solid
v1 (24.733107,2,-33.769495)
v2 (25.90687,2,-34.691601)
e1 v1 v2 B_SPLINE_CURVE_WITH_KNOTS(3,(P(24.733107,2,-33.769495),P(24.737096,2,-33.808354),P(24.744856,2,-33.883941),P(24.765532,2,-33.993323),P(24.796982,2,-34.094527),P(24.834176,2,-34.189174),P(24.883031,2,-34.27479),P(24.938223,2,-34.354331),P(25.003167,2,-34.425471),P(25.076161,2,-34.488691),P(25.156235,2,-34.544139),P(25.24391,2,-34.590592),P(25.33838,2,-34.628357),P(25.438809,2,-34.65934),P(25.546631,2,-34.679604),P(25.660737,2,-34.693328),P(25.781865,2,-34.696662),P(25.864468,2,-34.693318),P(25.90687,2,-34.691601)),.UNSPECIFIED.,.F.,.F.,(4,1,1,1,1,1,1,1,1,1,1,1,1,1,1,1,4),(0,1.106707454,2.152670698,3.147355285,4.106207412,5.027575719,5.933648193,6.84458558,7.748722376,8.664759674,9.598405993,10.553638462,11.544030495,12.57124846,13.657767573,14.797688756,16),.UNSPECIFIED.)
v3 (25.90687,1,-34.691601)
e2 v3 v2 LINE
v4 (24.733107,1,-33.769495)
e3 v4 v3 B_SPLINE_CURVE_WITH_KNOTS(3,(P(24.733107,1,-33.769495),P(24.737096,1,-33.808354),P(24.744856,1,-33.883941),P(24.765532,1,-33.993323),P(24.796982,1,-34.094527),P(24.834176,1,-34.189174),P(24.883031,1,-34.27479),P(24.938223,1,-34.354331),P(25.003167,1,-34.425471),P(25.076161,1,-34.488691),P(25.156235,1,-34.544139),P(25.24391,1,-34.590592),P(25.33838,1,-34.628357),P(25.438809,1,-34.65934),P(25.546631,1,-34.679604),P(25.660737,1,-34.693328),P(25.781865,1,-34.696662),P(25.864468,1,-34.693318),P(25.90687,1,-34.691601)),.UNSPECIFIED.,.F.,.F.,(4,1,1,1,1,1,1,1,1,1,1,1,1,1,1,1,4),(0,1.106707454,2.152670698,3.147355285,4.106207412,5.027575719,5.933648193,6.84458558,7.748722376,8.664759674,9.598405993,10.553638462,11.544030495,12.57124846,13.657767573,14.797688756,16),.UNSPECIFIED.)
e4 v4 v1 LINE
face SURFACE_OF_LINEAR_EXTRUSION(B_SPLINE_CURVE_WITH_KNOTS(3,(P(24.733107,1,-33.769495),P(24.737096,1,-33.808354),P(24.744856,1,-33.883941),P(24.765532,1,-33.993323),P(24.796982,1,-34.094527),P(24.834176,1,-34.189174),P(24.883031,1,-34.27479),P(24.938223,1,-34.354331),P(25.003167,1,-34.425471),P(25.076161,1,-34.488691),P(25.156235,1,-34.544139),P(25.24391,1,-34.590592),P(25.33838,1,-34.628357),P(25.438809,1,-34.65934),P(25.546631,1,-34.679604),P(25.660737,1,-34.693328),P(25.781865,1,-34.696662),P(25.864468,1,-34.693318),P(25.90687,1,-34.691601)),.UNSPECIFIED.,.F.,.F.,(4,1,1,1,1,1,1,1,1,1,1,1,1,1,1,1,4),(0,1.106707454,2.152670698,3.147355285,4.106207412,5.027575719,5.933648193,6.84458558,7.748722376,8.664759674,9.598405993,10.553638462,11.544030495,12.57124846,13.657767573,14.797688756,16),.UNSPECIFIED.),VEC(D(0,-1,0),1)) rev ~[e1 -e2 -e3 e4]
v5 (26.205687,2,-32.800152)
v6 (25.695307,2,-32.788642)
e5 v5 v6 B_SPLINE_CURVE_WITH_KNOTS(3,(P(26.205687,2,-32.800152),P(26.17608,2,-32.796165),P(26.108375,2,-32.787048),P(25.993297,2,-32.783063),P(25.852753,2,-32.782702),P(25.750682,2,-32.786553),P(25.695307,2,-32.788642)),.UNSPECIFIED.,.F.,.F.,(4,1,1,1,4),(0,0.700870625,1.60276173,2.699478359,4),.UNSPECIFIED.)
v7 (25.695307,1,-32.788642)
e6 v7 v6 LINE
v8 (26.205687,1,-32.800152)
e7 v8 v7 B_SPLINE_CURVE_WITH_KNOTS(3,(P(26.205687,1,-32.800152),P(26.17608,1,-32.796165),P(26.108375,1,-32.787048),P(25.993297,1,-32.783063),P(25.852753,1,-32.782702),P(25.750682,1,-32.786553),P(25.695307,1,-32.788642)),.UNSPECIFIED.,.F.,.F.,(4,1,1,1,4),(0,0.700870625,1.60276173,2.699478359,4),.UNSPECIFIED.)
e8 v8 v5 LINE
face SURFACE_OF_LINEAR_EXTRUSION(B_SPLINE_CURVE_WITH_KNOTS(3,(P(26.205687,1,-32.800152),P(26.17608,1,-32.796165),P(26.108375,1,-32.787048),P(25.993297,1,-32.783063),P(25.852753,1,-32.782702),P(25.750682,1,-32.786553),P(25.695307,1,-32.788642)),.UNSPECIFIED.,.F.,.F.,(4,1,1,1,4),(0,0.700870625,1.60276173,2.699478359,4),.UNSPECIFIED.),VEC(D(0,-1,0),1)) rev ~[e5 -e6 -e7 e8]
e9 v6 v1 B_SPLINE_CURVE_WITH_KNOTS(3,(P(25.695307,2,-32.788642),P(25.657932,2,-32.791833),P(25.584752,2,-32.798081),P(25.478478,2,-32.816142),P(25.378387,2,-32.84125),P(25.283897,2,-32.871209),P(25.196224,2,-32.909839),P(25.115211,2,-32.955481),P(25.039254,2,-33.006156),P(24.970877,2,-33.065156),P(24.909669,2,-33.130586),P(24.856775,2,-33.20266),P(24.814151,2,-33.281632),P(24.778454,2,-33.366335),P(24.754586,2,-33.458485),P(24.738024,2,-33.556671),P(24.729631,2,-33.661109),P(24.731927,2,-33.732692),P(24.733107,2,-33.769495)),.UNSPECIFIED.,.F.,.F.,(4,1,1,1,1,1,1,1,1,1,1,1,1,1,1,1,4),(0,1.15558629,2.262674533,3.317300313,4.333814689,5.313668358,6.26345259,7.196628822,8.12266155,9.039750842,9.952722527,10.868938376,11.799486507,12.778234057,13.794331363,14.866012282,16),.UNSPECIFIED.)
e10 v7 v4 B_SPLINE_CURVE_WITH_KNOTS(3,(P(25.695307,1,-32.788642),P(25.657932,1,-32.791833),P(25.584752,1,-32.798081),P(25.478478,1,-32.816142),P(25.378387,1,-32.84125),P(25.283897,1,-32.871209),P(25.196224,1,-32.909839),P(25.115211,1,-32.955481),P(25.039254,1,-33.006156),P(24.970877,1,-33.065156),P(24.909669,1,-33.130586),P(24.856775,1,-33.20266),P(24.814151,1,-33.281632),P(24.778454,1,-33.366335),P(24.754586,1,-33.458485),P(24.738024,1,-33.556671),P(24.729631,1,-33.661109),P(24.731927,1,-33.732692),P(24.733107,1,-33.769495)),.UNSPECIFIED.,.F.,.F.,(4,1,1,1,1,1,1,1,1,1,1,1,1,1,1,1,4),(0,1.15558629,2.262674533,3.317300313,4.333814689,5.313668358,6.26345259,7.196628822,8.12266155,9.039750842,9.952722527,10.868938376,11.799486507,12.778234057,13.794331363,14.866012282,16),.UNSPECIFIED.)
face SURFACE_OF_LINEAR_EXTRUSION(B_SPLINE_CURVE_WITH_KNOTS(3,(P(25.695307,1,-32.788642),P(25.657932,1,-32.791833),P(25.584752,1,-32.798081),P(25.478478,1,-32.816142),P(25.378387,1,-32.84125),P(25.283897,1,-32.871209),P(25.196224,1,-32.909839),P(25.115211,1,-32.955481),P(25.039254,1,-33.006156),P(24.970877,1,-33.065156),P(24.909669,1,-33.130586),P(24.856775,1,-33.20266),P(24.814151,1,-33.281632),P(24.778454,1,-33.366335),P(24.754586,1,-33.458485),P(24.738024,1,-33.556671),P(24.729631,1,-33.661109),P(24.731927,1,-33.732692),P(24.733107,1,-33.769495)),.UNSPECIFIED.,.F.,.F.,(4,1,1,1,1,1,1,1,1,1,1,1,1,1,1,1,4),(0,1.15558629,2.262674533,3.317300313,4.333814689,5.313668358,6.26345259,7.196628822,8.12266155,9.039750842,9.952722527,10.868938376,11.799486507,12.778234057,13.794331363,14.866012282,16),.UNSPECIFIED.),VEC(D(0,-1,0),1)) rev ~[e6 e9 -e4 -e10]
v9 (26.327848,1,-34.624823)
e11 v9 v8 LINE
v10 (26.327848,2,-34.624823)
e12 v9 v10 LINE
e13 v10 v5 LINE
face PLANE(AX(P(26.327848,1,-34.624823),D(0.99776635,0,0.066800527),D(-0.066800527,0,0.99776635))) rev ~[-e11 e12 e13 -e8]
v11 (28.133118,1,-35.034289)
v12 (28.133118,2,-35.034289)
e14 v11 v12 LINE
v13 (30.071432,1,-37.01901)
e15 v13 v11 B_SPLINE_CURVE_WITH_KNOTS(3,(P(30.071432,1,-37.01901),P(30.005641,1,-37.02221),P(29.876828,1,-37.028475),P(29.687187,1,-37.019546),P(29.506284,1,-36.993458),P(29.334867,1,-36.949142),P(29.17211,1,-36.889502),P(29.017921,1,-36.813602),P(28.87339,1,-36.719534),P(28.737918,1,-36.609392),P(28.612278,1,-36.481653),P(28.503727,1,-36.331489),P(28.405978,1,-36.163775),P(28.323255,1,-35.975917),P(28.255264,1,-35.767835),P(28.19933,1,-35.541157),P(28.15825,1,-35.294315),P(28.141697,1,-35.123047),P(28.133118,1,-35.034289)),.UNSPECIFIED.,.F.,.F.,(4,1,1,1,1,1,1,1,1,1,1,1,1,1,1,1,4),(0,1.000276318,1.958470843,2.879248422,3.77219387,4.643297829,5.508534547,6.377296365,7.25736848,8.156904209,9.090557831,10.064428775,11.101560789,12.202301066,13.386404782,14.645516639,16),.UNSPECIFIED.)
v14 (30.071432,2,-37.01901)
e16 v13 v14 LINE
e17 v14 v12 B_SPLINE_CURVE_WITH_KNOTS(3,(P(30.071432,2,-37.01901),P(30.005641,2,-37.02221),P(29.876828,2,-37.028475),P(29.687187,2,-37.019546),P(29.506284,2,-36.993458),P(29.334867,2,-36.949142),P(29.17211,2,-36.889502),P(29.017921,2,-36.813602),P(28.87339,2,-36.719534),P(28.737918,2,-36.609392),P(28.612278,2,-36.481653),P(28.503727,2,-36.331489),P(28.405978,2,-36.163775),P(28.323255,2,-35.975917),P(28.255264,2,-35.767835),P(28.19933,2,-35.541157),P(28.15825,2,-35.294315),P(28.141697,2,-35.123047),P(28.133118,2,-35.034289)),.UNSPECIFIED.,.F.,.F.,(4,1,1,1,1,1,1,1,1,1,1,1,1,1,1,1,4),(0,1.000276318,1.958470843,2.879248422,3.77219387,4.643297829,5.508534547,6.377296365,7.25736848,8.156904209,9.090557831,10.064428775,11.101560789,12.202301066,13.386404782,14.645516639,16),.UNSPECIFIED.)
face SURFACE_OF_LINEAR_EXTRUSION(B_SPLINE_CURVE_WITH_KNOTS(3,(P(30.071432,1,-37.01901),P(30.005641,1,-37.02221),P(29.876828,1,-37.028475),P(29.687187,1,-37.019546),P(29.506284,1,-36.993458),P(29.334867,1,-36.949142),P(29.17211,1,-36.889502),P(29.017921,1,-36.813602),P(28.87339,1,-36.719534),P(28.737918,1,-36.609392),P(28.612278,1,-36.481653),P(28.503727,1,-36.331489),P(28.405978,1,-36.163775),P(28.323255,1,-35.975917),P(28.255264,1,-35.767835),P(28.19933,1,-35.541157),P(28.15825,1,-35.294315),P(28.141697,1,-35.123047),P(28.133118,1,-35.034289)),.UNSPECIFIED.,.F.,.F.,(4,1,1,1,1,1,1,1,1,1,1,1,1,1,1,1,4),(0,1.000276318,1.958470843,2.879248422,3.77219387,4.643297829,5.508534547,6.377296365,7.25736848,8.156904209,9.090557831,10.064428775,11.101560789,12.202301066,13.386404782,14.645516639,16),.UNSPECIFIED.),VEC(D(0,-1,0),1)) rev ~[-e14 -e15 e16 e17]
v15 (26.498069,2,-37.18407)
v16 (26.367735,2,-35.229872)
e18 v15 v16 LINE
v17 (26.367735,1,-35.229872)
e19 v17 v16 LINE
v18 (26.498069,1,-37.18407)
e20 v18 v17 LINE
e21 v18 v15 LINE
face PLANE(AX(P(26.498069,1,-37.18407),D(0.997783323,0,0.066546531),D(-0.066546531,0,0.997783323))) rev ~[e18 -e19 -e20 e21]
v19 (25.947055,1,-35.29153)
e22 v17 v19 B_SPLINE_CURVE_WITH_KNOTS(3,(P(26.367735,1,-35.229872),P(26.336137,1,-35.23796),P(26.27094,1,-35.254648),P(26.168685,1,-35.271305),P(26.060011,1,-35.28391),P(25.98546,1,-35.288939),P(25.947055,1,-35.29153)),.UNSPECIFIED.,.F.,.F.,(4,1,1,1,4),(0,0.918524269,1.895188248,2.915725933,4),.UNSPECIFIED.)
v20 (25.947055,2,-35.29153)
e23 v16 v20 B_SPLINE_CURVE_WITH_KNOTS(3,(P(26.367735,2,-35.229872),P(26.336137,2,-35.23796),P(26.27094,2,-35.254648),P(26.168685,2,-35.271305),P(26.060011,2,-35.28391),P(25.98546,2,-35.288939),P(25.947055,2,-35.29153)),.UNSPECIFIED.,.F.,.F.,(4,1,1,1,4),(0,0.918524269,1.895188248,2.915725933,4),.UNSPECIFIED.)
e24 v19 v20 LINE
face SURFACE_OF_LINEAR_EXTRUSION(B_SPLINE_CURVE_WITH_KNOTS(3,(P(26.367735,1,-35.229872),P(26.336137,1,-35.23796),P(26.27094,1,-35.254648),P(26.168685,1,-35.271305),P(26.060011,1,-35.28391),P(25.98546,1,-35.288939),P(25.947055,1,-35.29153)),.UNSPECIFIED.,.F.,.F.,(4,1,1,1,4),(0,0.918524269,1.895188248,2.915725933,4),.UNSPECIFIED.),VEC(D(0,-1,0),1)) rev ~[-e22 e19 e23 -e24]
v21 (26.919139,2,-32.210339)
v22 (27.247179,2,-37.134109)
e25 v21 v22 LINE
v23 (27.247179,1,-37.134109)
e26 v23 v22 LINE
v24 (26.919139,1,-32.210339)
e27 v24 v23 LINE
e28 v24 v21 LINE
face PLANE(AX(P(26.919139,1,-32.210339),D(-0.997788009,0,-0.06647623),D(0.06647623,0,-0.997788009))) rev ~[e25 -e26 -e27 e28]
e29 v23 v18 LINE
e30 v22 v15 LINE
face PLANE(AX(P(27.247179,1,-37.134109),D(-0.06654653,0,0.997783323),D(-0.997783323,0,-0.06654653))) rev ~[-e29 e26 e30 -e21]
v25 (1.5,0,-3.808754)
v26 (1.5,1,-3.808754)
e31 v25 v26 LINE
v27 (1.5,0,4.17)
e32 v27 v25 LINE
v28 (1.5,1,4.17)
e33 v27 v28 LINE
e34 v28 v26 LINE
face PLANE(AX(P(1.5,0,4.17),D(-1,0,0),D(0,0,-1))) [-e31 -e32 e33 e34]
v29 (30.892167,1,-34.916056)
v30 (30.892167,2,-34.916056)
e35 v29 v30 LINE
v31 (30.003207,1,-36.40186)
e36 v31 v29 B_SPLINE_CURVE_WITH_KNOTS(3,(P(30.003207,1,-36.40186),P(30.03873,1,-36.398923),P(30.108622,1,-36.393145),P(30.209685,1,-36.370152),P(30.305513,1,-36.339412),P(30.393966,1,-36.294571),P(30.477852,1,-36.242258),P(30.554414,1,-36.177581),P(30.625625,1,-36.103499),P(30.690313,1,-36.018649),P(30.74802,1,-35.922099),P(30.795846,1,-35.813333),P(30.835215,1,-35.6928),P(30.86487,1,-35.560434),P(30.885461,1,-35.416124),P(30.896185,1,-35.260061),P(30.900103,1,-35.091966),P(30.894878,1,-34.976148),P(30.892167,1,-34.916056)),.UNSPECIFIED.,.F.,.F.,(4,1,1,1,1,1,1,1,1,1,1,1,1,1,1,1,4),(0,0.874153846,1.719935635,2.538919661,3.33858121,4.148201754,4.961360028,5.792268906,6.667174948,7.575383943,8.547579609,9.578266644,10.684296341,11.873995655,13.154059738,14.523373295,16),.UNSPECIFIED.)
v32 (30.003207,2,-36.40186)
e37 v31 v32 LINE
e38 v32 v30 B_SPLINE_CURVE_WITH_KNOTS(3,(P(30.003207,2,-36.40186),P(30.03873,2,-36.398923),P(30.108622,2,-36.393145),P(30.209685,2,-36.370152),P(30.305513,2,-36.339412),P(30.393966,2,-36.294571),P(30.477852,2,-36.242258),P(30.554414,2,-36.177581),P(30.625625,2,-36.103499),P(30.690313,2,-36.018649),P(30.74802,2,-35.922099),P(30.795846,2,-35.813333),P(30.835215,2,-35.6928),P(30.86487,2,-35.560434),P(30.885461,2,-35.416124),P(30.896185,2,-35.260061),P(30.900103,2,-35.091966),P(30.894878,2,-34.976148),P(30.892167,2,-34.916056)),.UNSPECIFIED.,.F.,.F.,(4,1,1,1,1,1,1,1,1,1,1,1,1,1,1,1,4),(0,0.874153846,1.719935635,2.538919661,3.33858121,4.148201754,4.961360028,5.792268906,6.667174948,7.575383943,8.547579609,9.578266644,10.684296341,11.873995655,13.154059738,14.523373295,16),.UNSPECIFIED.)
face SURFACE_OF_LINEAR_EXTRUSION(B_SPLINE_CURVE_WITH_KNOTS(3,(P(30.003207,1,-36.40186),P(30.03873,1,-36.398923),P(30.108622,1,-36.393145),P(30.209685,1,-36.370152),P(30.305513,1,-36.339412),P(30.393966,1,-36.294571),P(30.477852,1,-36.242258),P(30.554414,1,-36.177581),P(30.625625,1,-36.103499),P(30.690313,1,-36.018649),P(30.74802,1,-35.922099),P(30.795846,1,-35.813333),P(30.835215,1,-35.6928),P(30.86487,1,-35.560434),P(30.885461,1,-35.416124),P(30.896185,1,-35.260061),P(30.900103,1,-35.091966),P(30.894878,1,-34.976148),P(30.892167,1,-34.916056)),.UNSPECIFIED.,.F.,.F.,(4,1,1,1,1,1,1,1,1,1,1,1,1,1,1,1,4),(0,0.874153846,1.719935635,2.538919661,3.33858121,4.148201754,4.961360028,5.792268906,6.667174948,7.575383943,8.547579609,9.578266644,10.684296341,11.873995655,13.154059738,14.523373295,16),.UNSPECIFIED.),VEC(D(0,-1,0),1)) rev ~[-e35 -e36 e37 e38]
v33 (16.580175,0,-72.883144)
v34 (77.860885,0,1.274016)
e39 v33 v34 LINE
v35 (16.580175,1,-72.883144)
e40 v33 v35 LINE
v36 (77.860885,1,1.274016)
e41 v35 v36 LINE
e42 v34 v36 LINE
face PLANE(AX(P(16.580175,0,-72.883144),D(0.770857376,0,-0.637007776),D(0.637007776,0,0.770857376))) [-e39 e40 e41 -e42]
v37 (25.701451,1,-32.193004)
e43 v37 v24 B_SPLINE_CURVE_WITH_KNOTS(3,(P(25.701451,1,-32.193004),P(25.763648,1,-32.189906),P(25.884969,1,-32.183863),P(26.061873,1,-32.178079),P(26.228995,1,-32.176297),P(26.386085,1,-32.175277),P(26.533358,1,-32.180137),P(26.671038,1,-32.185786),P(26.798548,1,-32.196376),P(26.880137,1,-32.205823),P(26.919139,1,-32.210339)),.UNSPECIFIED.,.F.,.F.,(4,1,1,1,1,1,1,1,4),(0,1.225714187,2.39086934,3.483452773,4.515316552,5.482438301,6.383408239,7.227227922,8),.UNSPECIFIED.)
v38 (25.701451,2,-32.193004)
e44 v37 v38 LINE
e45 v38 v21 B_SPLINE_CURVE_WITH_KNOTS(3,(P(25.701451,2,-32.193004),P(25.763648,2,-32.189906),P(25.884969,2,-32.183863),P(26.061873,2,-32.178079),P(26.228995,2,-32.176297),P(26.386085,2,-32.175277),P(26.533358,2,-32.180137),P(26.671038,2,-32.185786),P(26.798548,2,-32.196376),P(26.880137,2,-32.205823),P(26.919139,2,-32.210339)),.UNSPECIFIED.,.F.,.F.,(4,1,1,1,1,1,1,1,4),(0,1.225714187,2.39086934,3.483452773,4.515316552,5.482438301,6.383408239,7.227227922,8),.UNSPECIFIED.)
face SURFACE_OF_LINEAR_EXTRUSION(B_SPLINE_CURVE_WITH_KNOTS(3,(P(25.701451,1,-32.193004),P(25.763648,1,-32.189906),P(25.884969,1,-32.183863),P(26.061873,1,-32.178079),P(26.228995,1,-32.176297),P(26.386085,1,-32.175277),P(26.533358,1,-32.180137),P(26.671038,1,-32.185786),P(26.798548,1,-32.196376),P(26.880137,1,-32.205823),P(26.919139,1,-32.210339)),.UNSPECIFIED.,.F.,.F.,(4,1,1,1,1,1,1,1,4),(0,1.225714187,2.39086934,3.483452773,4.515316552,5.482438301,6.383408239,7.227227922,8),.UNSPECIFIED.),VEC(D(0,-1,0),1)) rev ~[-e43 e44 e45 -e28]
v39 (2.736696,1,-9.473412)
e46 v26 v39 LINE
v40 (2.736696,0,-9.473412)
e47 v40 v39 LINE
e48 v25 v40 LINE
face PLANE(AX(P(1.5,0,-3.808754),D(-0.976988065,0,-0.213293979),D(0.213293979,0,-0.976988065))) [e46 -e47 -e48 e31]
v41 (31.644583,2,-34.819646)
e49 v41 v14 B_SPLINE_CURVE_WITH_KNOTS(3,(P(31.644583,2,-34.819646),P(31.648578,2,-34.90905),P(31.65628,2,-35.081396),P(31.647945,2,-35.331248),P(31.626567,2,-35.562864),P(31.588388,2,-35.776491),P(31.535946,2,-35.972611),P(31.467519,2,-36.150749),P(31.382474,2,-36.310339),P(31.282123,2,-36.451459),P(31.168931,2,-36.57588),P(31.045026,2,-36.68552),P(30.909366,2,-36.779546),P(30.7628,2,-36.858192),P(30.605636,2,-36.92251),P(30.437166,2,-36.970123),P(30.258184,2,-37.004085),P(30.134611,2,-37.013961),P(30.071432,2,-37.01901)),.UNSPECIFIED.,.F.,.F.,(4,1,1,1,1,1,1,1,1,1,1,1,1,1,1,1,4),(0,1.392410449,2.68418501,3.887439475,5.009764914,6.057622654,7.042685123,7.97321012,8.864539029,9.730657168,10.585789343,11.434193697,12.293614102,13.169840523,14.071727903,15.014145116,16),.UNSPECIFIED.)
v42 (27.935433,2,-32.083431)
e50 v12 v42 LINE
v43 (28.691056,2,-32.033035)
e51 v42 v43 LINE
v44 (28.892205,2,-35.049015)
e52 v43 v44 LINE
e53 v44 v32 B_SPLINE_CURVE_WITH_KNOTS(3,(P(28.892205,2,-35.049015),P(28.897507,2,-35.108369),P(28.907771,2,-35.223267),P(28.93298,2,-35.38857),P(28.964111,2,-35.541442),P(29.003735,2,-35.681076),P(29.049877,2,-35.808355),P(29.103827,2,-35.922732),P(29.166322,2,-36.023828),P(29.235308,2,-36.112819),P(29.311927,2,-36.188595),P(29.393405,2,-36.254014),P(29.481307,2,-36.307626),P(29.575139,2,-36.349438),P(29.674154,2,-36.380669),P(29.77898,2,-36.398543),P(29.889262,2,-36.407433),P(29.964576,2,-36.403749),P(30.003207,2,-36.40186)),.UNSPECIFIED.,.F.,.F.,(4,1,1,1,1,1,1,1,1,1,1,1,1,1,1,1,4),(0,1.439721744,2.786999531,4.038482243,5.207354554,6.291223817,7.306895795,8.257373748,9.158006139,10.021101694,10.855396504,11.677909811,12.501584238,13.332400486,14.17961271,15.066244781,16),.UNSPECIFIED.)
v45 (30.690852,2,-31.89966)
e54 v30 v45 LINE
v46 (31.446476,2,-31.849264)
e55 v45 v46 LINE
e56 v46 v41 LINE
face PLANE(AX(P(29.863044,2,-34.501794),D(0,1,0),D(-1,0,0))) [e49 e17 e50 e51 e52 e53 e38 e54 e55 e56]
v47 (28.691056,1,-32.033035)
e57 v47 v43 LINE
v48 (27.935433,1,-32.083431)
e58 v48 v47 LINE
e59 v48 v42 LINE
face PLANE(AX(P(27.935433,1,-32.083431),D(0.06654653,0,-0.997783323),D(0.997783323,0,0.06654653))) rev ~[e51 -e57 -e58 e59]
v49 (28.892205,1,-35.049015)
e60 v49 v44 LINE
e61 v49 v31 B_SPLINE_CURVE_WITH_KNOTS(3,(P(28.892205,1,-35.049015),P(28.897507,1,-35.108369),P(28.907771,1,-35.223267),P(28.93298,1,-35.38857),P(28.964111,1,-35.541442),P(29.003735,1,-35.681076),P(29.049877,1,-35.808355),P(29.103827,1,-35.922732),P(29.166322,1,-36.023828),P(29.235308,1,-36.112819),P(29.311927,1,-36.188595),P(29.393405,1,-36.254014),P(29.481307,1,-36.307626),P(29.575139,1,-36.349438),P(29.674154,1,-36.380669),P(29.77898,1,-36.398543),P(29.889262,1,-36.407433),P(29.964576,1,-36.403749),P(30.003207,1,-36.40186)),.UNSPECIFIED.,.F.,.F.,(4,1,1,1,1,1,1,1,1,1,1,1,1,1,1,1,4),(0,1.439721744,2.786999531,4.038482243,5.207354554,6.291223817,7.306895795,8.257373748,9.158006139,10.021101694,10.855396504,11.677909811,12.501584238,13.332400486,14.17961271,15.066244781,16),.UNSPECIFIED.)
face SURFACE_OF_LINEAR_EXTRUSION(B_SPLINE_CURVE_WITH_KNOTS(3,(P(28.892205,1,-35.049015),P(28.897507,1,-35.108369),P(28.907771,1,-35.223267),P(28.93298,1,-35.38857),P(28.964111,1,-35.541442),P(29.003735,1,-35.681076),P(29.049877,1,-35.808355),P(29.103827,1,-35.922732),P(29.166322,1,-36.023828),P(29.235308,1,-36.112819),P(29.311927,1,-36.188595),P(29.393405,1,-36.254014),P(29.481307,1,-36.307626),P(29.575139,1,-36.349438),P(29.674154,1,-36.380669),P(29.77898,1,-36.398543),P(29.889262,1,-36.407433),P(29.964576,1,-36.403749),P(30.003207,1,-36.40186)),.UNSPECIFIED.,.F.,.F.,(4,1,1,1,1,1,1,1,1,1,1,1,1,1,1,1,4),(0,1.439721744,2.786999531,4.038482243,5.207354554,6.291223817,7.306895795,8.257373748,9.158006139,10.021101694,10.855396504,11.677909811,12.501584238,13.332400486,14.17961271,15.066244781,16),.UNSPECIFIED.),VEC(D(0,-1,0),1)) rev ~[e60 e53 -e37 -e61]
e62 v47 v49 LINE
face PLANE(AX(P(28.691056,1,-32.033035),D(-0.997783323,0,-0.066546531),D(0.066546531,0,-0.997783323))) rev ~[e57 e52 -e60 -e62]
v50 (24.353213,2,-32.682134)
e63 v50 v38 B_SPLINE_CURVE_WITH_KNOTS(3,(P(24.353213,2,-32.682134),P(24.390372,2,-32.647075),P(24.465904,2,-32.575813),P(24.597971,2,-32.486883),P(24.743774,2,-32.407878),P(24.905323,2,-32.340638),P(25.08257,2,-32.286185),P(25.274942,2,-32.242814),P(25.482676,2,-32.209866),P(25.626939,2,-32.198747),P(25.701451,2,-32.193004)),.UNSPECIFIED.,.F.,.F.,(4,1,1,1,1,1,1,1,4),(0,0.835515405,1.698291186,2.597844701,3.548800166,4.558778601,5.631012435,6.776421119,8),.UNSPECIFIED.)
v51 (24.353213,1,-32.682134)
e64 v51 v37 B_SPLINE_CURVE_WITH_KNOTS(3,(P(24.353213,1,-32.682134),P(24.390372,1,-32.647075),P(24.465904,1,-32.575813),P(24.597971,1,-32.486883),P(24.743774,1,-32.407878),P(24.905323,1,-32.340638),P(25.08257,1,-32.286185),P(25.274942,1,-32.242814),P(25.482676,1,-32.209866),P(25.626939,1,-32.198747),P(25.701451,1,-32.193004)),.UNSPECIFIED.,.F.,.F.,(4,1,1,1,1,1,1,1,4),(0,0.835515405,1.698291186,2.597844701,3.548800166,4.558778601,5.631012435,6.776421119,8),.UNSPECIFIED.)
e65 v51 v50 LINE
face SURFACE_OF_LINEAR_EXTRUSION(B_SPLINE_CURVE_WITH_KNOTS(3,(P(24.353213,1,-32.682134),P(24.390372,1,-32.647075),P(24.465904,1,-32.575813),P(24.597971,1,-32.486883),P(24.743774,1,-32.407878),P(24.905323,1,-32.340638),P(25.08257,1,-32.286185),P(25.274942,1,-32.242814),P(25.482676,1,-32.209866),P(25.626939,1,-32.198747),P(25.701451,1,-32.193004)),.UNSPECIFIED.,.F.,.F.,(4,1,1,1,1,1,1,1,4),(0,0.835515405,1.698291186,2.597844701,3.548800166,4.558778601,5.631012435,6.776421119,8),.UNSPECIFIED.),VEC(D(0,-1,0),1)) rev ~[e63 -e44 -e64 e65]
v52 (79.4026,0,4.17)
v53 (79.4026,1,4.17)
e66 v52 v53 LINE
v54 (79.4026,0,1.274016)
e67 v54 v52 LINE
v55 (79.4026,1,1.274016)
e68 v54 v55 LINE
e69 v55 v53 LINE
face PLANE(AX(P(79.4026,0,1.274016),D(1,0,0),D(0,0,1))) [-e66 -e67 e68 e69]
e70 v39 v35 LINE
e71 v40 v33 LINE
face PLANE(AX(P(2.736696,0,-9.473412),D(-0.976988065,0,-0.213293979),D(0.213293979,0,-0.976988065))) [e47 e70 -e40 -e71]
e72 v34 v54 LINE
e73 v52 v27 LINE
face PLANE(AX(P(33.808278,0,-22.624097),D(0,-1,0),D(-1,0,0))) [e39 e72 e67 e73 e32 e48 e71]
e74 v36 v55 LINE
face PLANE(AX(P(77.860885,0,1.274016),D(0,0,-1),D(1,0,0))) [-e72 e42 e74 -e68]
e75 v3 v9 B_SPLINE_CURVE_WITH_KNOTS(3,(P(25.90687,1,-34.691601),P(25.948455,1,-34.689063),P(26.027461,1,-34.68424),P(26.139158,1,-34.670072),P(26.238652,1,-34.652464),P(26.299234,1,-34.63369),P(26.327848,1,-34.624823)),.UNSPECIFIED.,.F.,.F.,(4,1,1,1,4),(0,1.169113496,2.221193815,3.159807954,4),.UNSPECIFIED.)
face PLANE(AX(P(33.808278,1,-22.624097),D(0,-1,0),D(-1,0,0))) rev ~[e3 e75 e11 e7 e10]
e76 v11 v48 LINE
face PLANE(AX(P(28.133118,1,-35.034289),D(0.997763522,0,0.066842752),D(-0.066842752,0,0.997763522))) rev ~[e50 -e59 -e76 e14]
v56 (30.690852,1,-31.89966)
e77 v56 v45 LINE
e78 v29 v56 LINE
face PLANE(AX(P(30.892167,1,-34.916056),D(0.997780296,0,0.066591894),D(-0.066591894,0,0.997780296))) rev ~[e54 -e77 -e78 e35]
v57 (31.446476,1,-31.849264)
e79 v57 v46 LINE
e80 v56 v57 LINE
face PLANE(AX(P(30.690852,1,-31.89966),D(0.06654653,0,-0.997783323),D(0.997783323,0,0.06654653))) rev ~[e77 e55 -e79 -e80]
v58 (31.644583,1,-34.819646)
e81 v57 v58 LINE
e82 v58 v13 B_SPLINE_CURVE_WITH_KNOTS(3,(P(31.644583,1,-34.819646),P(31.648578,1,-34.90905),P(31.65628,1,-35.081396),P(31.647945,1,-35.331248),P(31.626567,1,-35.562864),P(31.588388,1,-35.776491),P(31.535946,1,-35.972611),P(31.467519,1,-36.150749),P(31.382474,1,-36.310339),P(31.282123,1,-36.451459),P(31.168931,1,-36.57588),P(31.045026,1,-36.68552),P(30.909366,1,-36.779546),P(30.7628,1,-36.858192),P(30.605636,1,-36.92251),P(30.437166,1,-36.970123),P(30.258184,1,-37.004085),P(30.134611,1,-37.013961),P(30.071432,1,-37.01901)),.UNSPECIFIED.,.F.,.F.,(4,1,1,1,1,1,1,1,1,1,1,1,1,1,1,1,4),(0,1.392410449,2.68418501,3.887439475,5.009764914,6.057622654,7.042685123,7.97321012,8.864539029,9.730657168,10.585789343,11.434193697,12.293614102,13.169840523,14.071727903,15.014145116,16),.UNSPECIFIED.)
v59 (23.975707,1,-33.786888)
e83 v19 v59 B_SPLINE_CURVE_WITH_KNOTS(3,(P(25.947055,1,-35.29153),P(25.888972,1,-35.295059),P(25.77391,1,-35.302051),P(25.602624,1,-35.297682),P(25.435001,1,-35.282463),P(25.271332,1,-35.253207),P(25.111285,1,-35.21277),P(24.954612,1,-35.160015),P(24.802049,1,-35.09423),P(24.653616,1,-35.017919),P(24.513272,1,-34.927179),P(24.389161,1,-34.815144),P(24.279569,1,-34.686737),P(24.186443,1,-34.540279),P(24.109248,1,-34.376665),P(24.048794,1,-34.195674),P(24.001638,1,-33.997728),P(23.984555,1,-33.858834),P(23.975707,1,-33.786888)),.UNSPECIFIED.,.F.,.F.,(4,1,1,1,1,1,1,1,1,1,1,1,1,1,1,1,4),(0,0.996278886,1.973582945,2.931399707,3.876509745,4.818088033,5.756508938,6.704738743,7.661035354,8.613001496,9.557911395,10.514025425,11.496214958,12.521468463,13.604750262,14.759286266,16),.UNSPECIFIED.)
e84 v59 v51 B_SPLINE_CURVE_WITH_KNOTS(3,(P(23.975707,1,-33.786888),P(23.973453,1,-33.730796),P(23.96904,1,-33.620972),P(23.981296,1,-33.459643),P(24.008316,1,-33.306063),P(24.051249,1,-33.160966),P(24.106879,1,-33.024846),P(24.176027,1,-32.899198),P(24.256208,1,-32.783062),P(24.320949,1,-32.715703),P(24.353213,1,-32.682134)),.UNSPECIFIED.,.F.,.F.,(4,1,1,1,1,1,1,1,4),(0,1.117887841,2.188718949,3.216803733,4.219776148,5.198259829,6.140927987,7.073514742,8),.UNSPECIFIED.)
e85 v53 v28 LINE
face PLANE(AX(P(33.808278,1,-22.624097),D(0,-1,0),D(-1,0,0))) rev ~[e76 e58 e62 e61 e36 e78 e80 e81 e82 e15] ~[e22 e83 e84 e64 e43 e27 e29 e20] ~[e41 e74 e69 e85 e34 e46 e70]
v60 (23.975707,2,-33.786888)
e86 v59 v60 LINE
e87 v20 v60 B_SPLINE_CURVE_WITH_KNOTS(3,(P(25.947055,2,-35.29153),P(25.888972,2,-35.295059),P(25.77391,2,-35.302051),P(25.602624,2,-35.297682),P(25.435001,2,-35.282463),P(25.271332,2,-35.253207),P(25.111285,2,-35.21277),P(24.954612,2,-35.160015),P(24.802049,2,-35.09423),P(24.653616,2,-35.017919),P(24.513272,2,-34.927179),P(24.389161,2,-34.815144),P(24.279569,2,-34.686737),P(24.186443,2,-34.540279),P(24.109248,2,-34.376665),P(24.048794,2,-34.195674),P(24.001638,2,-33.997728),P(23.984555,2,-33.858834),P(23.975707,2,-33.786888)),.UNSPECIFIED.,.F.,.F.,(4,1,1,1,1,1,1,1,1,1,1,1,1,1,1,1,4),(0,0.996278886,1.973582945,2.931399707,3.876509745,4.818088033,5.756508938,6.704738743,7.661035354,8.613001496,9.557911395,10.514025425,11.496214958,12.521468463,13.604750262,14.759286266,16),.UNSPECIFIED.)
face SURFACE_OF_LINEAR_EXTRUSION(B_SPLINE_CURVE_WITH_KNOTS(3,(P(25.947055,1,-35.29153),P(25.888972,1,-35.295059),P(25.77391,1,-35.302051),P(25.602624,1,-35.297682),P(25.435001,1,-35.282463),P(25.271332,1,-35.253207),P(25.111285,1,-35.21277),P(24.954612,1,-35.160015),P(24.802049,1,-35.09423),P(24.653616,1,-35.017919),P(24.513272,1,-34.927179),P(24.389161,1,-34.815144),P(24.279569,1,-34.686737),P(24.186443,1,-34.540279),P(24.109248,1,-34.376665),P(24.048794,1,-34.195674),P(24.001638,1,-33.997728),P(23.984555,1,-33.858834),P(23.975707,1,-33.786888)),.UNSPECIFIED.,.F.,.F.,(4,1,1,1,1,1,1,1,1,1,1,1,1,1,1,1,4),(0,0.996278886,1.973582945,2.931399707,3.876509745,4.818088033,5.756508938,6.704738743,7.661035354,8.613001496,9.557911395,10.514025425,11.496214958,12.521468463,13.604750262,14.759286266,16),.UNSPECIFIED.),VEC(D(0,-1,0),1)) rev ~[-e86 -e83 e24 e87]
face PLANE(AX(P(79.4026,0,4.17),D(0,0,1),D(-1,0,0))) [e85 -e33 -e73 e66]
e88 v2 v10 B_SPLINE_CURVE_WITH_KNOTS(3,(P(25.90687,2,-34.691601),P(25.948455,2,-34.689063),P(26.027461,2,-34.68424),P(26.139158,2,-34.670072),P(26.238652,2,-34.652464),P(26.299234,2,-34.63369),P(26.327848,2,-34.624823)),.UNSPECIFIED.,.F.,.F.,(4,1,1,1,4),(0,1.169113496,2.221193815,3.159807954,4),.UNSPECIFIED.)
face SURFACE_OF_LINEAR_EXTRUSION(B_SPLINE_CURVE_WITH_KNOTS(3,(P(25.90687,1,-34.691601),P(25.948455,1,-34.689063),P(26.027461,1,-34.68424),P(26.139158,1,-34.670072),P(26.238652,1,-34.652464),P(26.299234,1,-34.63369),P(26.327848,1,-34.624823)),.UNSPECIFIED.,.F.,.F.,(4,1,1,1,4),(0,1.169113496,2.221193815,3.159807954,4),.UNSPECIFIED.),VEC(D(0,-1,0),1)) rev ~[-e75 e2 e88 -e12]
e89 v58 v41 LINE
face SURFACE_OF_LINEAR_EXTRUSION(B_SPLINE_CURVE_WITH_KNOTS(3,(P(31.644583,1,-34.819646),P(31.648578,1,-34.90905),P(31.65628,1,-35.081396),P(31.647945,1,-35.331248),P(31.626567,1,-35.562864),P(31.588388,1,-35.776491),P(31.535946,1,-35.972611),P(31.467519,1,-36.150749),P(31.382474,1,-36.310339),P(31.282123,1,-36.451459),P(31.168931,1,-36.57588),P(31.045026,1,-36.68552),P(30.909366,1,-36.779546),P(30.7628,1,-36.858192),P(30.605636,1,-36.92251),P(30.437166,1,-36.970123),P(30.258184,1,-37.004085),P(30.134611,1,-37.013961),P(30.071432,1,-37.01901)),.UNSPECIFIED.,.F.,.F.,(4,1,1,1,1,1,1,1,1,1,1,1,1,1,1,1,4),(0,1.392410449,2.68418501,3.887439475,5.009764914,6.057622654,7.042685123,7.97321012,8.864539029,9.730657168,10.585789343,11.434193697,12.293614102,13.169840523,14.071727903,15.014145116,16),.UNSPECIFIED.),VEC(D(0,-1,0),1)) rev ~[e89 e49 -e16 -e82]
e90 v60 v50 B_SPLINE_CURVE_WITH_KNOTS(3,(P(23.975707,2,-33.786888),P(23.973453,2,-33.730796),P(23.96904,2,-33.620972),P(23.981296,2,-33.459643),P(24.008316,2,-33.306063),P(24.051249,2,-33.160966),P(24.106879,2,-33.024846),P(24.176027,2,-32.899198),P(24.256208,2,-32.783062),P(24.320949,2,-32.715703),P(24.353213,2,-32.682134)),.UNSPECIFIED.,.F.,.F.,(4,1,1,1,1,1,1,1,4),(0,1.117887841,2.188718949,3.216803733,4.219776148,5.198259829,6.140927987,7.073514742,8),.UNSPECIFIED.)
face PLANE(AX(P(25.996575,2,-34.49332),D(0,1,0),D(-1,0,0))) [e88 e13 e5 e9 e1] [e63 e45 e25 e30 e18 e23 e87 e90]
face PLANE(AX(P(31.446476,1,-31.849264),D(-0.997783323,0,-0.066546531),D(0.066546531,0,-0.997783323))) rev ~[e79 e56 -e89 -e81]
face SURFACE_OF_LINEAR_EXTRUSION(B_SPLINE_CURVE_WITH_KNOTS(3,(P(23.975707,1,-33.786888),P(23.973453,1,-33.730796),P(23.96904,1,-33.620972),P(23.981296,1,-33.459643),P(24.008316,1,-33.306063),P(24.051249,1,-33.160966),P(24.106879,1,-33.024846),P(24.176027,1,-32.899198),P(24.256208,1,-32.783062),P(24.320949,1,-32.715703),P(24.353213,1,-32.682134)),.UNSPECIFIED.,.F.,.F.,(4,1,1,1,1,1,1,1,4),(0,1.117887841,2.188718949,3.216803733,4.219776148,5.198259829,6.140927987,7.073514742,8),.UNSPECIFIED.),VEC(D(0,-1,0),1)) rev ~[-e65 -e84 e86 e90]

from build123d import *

# Parameters (mm, degrees)
EXTRUDE_1_DEPTH = 1
EXTRUDE_2_DEPTH = 1


with BuildPart() as part:
    # 草图1 → 凸台-拉伸1 (new body)
    with BuildSketch(Plane(origin=(0, 0, 0), x_dir=(1, 0, 0), z_dir=(0, 1, 0))):
        Polygon((2.736696129, 9.473412041), (16.58017542, 72.883143872), (77.860885248, -1.274015551), (79.4026, -1.274015551), (79.4026, -4.17), (1.5, -4.17), (1.5, 3.808754461), align=None)
    extrude(amount=EXTRUDE_1_DEPTH)

    # 草图2 → 凸台-拉伸2 (add)
    # profile 1 of 2: a face of its own
    with BuildSketch(Plane.XZ.offset(-1)):
        with BuildLine():
            Line((27.247178656, -37.134108742), (26.498069264, -37.184070121))
            Line((26.498069264, -37.184070121), (26.367735231, -35.229871707))
            add(Edge.make_bspline(
                [(26.367735231, -35.229871707), (26.336136972, -35.237959723), (26.270940383, -35.254647701), (26.168685096, -35.271305323), (26.06001111, -35.283910157), (25.985459776, -35.288939032), (25.947055355, -35.291529611)],
                knots=[0, 0, 0, 0, 0.918524269, 1.895188248, 2.915725933, 4, 4, 4, 4], degree=3))
            add(Edge.make_bspline(
                [(25.947055355, -35.291529611), (25.888971534, -35.295059263), (25.773910138, -35.302051343), (25.602623819, -35.297682043), (25.435001026, -35.282463383), (25.271332319, -35.25320731), (25.111285307, -35.21277006), (24.954612218, -35.160015392), (24.802048503, -35.094230317), (24.653616239, -35.017919209), (24.513272279, -34.927178562), (24.389160738, -34.815143767), (24.279568532, -34.686737032), (24.186443183, -34.540279182), (24.109248199, -34.376664865), (24.048793797, -34.195673673), (24.00163799, -33.997727925), (23.98455536, -33.858833633), (23.975706741, -33.786887875)],
                knots=[0, 0, 0, 0, 0.996278886, 1.973582945, 2.931399707, 3.876509745, 4.818088033, 5.756508938, 6.704738743, 7.661035354, 8.613001496, 9.557911395, 10.514025425, 11.496214958, 12.521468463, 13.604750262, 14.759286266, 16, 16, 16, 16], degree=3))
            add(Edge.make_bspline(
                [(23.975706741, -33.786887875), (23.973452918, -33.730795501), (23.969040147, -33.620971923), (23.981295878, -33.459643046), (24.008316205, -33.30606268), (24.051249008, -33.160965902), (24.106879389, -33.024846473), (24.176026658, -32.899197677), (24.256208333, -32.783062463), (24.320948784, -32.715703234), (24.35321277, -32.682134156)],
                knots=[0, 0, 0, 0, 1.117887841, 2.188718949, 3.216803733, 4.219776148, 5.198259829, 6.140927987, 7.073514742, 8, 8, 8, 8], degree=3))
            add(Edge.make_bspline(
                [(24.35321277, -32.682134156), (24.390372306, -32.647075002), (24.465903781, -32.575812818), (24.597971222, -32.486883084), (24.743773905, -32.407877723), (24.905322916, -32.340638498), (25.082570482, -32.286184948), (25.274941514, -32.242813813), (25.482676378, -32.20986596), (25.626939116, -32.198747031), (25.701450626, -32.193004119)],
                knots=[0, 0, 0, 0, 0.835515405, 1.698291186, 2.597844701, 3.548800166, 4.558778601, 5.631012435, 6.776421119, 8, 8, 8, 8], degree=3))
            add(Edge.make_bspline(
                [(25.701450626, -32.193004119), (25.763647746, -32.18990621), (25.884969005, -32.183863452), (26.061872954, -32.178079125), (26.228994693, -32.176297304), (26.386085383, -32.175276922), (26.533358419, -32.180136733), (26.671037915, -32.185786151), (26.798547568, -32.19637649), (26.880137368, -32.205823077), (26.919139372, -32.210338786)],
                knots=[0, 0, 0, 0, 1.225714187, 2.39086934, 3.483452773, 4.515316552, 5.482438301, 6.383408239, 7.227227922, 8, 8, 8, 8], degree=3))
            Line((26.919139372, -32.210338786), (27.247178656, -37.134108742))
        make_face()
        with BuildLine():
            add(Edge.make_bspline(
                [(26.205686584, -32.800151678), (26.176079833, -32.796164938), (26.108374661, -32.787048001), (25.99329716, -32.783062649), (25.852753393, -32.782701532), (25.750681695, -32.786552967), (25.695306953, -32.788642403)],
                knots=[0, 0, 0, 0, 0.700870625, 1.60276173, 2.699478359, 4, 4, 4, 4], degree=3))
            add(Edge.make_bspline(
                [(25.695306953, -32.788642403), (25.657932433, -32.791833077), (25.58475194, -32.798080519), (25.478477782, -32.816141959), (25.378387391, -32.84124998), (25.283896528, -32.871209194), (25.196224059, -32.909838569), (25.115210741, -32.955481345), (25.03925353, -33.006155967), (24.970876759, -33.065156289), (24.909669441, -33.130586372), (24.856775337, -33.202660022), (24.814150815, -33.281632292), (24.778453834, -33.366335047), (24.754586229, -33.458484944), (24.738023638, -33.556671393), (24.729630946, -33.661109096), (24.731926616, -33.732692134), (24.733106875, -33.769494709)],
                knots=[0, 0, 0, 0, 1.15558629, 2.262674533, 3.317300313, 4.333814689, 5.313668358, 6.26345259, 7.196628822, 8.12266155, 9.039750842, 9.952722527, 10.868938376, 11.799486507, 12.778234057, 13.794331363, 14.866012282, 16, 16, 16, 16], degree=3))
            add(Edge.make_bspline(
                [(24.733106875, -33.769494709), (24.737096219, -33.808354477), (24.744855943, -33.883941104), (24.765532333, -33.993323197), (24.796982251, -34.094527148), (24.834175778, -34.189173984), (24.883030807, -34.274790461), (24.938222836, -34.354330579), (25.003166703, -34.425471317), (25.076160949, -34.48869148), (25.15623493, -34.544138738), (25.243910401, -34.590592199), (25.33838039, -34.628357489), (25.438808525, -34.659340274), (25.546631026, -34.679604309), (25.6607371, -34.69332827), (25.781865267, -34.696662397), (25.864468434, -34.693317664), (25.906870167, -34.69160075)],
                knots=[0, 0, 0, 0, 1.106707454, 2.152670698, 3.147355285, 4.106207412, 5.027575719, 5.933648193, 6.84458558, 7.748722376, 8.664759674, 9.598405993, 10.553638462, 11.544030495, 12.57124846, 13.657767573, 14.797688756, 16, 16, 16, 16], degree=3))
            add(Edge.make_bspline(
                [(25.906870167, -34.69160075), (25.948454683, -34.689062607), (26.027460929, -34.684240401), (26.139157586, -34.670071787), (26.238651685, -34.652463648), (26.299233543, -34.633690353), (26.327848462, -34.624823072)],
                knots=[0, 0, 0, 0, 1.169113496, 2.221193815, 3.159807954, 4, 4, 4, 4], degree=3))
            Line((26.327848462, -34.624823072), (26.205686584, -32.800151678))
        make_face(mode=Mode.SUBTRACT)
    # profile 2 of 2: a face of its own
    with BuildSketch(Plane.XZ.offset(-1)):
        with BuildLine():
            Line((27.935432574, -32.083430945), (28.691055961, -32.033035119))
            Line((28.691055961, -32.033035119), (28.892204819, -35.049014672))
            add(Edge.make_bspline(
                [(28.892204819, -35.049014672), (28.897507047, -35.108369157), (28.90777105, -35.223266999), (28.932979911, -35.388569892), (28.964110993, -35.541441954), (29.003735435, -35.681075959), (29.049877232, -35.80835476), (29.1038274, -35.922731741), (29.166322232, -36.023827925), (29.235308242, -36.112819124), (29.311927252, -36.188595136), (29.393405004, -36.254014097), (29.481306787, -36.307626326), (29.575139181, -36.34943819), (29.674153705, -36.380669278), (29.77898, -36.398543183), (29.88926244, -36.40743298), (29.964575532, -36.403749393), (30.003206868, -36.401859922)],
                knots=[0, 0, 0, 0, 1.439721744, 2.786999531, 4.038482243, 5.207354554, 6.291223817, 7.306895795, 8.257373748, 9.158006139, 10.021101694, 10.855396504, 11.677909811, 12.501584238, 13.332400486, 14.17961271, 15.066244781, 16, 16, 16, 16], degree=3))
            add(Edge.make_bspline(
                [(30.003206868, -36.401859922), (30.038729559, -36.398923305), (30.108621995, -36.393145384), (30.209684602, -36.370152125), (30.305513155, -36.33941236), (30.39396647, -36.294571366), (30.477851847, -36.242257996), (30.554413819, -36.177580795), (30.625625293, -36.103498895), (30.690312721, -36.018648553), (30.748019791, -35.922099382), (30.795846408, -35.813332953), (30.835215343, -35.692799841), (30.864869703, -35.56043382), (30.885460677, -35.416124074), (30.896184878, -35.260061022), (30.900103493, -35.091966457), (30.894877985, -34.976148439), (30.89216671, -34.916055829)],
                knots=[0, 0, 0, 0, 0.874153846, 1.719935635, 2.538919661, 3.33858121, 4.148201754, 4.961360028, 5.792268906, 6.667174948, 7.575383943, 8.547579609, 9.578266644, 10.684296341, 11.873995655, 13.154059738, 14.523373295, 16, 16, 16, 16], degree=3))
            Line((30.89216671, -34.916055829), (30.690852339, -31.899659959))
            Line((30.690852339, -31.899659959), (31.446475726, -31.849264133))
            Line((31.446475726, -31.849264133), (31.644583456, -34.819645723))
            add(Edge.make_bspline(
                [(31.644583456, -34.819645723), (31.648578386, -34.909049834), (31.656279514, -35.081396411), (31.647945267, -35.331247935), (31.626567199, -35.562863946), (31.588387672, -35.776491181), (31.535946157, -35.972611101), (31.467518593, -36.150749447), (31.382473647, -36.310338583), (31.282123362, -36.451459106), (31.168931277, -36.575879794), (31.045026327, -36.685519975), (30.909366494, -36.779545606), (30.762799952, -36.858191677), (30.605635955, -36.922509938), (30.437166438, -36.970123465), (30.258184476, -37.004084934), (30.134610832, -37.01396111), (30.071432155, -37.019010437)],
                knots=[0, 0, 0, 0, 1.392410449, 2.68418501, 3.887439475, 5.009764914, 6.057622654, 7.042685123, 7.97321012, 8.864539029, 9.730657168, 10.585789343, 11.434193697, 12.293614102, 13.169840523, 14.071727903, 15.014145116, 16, 16, 16, 16], degree=3))
            add(Edge.make_bspline(
                [(30.071432155, -37.019010437), (30.005641486, -37.022210067), (29.876827974, -37.028474717), (29.687187359, -37.019546443), (29.506284369, -36.993457544), (29.334867231, -36.949141616), (29.172110457, -36.889501605), (29.017921074, -36.813602283), (28.873390267, -36.719534025), (28.737918252, -36.609392285), (28.612277586, -36.481652914), (28.503727367, -36.331489281), (28.405978482, -36.163774568), (28.323255189, -35.975917378), (28.255263986, -35.767835389), (28.199330237, -35.541157099), (28.158249949, -35.294314561), (28.141696756, -35.123047155), (28.133118143, -35.034288632)],
                knots=[0, 0, 0, 0, 1.000276318, 1.958470843, 2.879248422, 3.77219387, 4.643297829, 5.508534547, 6.377296365, 7.25736848, 8.156904209, 9.090557831, 10.064428775, 11.101560789, 12.202301066, 13.386404782, 14.645516639, 16, 16, 16, 16], degree=3))
            Line((28.133118143, -35.034288632), (27.935432574, -32.083430945))
        make_face()
    extrude(amount=-EXTRUDE_2_DEPTH)


solid = part.part
